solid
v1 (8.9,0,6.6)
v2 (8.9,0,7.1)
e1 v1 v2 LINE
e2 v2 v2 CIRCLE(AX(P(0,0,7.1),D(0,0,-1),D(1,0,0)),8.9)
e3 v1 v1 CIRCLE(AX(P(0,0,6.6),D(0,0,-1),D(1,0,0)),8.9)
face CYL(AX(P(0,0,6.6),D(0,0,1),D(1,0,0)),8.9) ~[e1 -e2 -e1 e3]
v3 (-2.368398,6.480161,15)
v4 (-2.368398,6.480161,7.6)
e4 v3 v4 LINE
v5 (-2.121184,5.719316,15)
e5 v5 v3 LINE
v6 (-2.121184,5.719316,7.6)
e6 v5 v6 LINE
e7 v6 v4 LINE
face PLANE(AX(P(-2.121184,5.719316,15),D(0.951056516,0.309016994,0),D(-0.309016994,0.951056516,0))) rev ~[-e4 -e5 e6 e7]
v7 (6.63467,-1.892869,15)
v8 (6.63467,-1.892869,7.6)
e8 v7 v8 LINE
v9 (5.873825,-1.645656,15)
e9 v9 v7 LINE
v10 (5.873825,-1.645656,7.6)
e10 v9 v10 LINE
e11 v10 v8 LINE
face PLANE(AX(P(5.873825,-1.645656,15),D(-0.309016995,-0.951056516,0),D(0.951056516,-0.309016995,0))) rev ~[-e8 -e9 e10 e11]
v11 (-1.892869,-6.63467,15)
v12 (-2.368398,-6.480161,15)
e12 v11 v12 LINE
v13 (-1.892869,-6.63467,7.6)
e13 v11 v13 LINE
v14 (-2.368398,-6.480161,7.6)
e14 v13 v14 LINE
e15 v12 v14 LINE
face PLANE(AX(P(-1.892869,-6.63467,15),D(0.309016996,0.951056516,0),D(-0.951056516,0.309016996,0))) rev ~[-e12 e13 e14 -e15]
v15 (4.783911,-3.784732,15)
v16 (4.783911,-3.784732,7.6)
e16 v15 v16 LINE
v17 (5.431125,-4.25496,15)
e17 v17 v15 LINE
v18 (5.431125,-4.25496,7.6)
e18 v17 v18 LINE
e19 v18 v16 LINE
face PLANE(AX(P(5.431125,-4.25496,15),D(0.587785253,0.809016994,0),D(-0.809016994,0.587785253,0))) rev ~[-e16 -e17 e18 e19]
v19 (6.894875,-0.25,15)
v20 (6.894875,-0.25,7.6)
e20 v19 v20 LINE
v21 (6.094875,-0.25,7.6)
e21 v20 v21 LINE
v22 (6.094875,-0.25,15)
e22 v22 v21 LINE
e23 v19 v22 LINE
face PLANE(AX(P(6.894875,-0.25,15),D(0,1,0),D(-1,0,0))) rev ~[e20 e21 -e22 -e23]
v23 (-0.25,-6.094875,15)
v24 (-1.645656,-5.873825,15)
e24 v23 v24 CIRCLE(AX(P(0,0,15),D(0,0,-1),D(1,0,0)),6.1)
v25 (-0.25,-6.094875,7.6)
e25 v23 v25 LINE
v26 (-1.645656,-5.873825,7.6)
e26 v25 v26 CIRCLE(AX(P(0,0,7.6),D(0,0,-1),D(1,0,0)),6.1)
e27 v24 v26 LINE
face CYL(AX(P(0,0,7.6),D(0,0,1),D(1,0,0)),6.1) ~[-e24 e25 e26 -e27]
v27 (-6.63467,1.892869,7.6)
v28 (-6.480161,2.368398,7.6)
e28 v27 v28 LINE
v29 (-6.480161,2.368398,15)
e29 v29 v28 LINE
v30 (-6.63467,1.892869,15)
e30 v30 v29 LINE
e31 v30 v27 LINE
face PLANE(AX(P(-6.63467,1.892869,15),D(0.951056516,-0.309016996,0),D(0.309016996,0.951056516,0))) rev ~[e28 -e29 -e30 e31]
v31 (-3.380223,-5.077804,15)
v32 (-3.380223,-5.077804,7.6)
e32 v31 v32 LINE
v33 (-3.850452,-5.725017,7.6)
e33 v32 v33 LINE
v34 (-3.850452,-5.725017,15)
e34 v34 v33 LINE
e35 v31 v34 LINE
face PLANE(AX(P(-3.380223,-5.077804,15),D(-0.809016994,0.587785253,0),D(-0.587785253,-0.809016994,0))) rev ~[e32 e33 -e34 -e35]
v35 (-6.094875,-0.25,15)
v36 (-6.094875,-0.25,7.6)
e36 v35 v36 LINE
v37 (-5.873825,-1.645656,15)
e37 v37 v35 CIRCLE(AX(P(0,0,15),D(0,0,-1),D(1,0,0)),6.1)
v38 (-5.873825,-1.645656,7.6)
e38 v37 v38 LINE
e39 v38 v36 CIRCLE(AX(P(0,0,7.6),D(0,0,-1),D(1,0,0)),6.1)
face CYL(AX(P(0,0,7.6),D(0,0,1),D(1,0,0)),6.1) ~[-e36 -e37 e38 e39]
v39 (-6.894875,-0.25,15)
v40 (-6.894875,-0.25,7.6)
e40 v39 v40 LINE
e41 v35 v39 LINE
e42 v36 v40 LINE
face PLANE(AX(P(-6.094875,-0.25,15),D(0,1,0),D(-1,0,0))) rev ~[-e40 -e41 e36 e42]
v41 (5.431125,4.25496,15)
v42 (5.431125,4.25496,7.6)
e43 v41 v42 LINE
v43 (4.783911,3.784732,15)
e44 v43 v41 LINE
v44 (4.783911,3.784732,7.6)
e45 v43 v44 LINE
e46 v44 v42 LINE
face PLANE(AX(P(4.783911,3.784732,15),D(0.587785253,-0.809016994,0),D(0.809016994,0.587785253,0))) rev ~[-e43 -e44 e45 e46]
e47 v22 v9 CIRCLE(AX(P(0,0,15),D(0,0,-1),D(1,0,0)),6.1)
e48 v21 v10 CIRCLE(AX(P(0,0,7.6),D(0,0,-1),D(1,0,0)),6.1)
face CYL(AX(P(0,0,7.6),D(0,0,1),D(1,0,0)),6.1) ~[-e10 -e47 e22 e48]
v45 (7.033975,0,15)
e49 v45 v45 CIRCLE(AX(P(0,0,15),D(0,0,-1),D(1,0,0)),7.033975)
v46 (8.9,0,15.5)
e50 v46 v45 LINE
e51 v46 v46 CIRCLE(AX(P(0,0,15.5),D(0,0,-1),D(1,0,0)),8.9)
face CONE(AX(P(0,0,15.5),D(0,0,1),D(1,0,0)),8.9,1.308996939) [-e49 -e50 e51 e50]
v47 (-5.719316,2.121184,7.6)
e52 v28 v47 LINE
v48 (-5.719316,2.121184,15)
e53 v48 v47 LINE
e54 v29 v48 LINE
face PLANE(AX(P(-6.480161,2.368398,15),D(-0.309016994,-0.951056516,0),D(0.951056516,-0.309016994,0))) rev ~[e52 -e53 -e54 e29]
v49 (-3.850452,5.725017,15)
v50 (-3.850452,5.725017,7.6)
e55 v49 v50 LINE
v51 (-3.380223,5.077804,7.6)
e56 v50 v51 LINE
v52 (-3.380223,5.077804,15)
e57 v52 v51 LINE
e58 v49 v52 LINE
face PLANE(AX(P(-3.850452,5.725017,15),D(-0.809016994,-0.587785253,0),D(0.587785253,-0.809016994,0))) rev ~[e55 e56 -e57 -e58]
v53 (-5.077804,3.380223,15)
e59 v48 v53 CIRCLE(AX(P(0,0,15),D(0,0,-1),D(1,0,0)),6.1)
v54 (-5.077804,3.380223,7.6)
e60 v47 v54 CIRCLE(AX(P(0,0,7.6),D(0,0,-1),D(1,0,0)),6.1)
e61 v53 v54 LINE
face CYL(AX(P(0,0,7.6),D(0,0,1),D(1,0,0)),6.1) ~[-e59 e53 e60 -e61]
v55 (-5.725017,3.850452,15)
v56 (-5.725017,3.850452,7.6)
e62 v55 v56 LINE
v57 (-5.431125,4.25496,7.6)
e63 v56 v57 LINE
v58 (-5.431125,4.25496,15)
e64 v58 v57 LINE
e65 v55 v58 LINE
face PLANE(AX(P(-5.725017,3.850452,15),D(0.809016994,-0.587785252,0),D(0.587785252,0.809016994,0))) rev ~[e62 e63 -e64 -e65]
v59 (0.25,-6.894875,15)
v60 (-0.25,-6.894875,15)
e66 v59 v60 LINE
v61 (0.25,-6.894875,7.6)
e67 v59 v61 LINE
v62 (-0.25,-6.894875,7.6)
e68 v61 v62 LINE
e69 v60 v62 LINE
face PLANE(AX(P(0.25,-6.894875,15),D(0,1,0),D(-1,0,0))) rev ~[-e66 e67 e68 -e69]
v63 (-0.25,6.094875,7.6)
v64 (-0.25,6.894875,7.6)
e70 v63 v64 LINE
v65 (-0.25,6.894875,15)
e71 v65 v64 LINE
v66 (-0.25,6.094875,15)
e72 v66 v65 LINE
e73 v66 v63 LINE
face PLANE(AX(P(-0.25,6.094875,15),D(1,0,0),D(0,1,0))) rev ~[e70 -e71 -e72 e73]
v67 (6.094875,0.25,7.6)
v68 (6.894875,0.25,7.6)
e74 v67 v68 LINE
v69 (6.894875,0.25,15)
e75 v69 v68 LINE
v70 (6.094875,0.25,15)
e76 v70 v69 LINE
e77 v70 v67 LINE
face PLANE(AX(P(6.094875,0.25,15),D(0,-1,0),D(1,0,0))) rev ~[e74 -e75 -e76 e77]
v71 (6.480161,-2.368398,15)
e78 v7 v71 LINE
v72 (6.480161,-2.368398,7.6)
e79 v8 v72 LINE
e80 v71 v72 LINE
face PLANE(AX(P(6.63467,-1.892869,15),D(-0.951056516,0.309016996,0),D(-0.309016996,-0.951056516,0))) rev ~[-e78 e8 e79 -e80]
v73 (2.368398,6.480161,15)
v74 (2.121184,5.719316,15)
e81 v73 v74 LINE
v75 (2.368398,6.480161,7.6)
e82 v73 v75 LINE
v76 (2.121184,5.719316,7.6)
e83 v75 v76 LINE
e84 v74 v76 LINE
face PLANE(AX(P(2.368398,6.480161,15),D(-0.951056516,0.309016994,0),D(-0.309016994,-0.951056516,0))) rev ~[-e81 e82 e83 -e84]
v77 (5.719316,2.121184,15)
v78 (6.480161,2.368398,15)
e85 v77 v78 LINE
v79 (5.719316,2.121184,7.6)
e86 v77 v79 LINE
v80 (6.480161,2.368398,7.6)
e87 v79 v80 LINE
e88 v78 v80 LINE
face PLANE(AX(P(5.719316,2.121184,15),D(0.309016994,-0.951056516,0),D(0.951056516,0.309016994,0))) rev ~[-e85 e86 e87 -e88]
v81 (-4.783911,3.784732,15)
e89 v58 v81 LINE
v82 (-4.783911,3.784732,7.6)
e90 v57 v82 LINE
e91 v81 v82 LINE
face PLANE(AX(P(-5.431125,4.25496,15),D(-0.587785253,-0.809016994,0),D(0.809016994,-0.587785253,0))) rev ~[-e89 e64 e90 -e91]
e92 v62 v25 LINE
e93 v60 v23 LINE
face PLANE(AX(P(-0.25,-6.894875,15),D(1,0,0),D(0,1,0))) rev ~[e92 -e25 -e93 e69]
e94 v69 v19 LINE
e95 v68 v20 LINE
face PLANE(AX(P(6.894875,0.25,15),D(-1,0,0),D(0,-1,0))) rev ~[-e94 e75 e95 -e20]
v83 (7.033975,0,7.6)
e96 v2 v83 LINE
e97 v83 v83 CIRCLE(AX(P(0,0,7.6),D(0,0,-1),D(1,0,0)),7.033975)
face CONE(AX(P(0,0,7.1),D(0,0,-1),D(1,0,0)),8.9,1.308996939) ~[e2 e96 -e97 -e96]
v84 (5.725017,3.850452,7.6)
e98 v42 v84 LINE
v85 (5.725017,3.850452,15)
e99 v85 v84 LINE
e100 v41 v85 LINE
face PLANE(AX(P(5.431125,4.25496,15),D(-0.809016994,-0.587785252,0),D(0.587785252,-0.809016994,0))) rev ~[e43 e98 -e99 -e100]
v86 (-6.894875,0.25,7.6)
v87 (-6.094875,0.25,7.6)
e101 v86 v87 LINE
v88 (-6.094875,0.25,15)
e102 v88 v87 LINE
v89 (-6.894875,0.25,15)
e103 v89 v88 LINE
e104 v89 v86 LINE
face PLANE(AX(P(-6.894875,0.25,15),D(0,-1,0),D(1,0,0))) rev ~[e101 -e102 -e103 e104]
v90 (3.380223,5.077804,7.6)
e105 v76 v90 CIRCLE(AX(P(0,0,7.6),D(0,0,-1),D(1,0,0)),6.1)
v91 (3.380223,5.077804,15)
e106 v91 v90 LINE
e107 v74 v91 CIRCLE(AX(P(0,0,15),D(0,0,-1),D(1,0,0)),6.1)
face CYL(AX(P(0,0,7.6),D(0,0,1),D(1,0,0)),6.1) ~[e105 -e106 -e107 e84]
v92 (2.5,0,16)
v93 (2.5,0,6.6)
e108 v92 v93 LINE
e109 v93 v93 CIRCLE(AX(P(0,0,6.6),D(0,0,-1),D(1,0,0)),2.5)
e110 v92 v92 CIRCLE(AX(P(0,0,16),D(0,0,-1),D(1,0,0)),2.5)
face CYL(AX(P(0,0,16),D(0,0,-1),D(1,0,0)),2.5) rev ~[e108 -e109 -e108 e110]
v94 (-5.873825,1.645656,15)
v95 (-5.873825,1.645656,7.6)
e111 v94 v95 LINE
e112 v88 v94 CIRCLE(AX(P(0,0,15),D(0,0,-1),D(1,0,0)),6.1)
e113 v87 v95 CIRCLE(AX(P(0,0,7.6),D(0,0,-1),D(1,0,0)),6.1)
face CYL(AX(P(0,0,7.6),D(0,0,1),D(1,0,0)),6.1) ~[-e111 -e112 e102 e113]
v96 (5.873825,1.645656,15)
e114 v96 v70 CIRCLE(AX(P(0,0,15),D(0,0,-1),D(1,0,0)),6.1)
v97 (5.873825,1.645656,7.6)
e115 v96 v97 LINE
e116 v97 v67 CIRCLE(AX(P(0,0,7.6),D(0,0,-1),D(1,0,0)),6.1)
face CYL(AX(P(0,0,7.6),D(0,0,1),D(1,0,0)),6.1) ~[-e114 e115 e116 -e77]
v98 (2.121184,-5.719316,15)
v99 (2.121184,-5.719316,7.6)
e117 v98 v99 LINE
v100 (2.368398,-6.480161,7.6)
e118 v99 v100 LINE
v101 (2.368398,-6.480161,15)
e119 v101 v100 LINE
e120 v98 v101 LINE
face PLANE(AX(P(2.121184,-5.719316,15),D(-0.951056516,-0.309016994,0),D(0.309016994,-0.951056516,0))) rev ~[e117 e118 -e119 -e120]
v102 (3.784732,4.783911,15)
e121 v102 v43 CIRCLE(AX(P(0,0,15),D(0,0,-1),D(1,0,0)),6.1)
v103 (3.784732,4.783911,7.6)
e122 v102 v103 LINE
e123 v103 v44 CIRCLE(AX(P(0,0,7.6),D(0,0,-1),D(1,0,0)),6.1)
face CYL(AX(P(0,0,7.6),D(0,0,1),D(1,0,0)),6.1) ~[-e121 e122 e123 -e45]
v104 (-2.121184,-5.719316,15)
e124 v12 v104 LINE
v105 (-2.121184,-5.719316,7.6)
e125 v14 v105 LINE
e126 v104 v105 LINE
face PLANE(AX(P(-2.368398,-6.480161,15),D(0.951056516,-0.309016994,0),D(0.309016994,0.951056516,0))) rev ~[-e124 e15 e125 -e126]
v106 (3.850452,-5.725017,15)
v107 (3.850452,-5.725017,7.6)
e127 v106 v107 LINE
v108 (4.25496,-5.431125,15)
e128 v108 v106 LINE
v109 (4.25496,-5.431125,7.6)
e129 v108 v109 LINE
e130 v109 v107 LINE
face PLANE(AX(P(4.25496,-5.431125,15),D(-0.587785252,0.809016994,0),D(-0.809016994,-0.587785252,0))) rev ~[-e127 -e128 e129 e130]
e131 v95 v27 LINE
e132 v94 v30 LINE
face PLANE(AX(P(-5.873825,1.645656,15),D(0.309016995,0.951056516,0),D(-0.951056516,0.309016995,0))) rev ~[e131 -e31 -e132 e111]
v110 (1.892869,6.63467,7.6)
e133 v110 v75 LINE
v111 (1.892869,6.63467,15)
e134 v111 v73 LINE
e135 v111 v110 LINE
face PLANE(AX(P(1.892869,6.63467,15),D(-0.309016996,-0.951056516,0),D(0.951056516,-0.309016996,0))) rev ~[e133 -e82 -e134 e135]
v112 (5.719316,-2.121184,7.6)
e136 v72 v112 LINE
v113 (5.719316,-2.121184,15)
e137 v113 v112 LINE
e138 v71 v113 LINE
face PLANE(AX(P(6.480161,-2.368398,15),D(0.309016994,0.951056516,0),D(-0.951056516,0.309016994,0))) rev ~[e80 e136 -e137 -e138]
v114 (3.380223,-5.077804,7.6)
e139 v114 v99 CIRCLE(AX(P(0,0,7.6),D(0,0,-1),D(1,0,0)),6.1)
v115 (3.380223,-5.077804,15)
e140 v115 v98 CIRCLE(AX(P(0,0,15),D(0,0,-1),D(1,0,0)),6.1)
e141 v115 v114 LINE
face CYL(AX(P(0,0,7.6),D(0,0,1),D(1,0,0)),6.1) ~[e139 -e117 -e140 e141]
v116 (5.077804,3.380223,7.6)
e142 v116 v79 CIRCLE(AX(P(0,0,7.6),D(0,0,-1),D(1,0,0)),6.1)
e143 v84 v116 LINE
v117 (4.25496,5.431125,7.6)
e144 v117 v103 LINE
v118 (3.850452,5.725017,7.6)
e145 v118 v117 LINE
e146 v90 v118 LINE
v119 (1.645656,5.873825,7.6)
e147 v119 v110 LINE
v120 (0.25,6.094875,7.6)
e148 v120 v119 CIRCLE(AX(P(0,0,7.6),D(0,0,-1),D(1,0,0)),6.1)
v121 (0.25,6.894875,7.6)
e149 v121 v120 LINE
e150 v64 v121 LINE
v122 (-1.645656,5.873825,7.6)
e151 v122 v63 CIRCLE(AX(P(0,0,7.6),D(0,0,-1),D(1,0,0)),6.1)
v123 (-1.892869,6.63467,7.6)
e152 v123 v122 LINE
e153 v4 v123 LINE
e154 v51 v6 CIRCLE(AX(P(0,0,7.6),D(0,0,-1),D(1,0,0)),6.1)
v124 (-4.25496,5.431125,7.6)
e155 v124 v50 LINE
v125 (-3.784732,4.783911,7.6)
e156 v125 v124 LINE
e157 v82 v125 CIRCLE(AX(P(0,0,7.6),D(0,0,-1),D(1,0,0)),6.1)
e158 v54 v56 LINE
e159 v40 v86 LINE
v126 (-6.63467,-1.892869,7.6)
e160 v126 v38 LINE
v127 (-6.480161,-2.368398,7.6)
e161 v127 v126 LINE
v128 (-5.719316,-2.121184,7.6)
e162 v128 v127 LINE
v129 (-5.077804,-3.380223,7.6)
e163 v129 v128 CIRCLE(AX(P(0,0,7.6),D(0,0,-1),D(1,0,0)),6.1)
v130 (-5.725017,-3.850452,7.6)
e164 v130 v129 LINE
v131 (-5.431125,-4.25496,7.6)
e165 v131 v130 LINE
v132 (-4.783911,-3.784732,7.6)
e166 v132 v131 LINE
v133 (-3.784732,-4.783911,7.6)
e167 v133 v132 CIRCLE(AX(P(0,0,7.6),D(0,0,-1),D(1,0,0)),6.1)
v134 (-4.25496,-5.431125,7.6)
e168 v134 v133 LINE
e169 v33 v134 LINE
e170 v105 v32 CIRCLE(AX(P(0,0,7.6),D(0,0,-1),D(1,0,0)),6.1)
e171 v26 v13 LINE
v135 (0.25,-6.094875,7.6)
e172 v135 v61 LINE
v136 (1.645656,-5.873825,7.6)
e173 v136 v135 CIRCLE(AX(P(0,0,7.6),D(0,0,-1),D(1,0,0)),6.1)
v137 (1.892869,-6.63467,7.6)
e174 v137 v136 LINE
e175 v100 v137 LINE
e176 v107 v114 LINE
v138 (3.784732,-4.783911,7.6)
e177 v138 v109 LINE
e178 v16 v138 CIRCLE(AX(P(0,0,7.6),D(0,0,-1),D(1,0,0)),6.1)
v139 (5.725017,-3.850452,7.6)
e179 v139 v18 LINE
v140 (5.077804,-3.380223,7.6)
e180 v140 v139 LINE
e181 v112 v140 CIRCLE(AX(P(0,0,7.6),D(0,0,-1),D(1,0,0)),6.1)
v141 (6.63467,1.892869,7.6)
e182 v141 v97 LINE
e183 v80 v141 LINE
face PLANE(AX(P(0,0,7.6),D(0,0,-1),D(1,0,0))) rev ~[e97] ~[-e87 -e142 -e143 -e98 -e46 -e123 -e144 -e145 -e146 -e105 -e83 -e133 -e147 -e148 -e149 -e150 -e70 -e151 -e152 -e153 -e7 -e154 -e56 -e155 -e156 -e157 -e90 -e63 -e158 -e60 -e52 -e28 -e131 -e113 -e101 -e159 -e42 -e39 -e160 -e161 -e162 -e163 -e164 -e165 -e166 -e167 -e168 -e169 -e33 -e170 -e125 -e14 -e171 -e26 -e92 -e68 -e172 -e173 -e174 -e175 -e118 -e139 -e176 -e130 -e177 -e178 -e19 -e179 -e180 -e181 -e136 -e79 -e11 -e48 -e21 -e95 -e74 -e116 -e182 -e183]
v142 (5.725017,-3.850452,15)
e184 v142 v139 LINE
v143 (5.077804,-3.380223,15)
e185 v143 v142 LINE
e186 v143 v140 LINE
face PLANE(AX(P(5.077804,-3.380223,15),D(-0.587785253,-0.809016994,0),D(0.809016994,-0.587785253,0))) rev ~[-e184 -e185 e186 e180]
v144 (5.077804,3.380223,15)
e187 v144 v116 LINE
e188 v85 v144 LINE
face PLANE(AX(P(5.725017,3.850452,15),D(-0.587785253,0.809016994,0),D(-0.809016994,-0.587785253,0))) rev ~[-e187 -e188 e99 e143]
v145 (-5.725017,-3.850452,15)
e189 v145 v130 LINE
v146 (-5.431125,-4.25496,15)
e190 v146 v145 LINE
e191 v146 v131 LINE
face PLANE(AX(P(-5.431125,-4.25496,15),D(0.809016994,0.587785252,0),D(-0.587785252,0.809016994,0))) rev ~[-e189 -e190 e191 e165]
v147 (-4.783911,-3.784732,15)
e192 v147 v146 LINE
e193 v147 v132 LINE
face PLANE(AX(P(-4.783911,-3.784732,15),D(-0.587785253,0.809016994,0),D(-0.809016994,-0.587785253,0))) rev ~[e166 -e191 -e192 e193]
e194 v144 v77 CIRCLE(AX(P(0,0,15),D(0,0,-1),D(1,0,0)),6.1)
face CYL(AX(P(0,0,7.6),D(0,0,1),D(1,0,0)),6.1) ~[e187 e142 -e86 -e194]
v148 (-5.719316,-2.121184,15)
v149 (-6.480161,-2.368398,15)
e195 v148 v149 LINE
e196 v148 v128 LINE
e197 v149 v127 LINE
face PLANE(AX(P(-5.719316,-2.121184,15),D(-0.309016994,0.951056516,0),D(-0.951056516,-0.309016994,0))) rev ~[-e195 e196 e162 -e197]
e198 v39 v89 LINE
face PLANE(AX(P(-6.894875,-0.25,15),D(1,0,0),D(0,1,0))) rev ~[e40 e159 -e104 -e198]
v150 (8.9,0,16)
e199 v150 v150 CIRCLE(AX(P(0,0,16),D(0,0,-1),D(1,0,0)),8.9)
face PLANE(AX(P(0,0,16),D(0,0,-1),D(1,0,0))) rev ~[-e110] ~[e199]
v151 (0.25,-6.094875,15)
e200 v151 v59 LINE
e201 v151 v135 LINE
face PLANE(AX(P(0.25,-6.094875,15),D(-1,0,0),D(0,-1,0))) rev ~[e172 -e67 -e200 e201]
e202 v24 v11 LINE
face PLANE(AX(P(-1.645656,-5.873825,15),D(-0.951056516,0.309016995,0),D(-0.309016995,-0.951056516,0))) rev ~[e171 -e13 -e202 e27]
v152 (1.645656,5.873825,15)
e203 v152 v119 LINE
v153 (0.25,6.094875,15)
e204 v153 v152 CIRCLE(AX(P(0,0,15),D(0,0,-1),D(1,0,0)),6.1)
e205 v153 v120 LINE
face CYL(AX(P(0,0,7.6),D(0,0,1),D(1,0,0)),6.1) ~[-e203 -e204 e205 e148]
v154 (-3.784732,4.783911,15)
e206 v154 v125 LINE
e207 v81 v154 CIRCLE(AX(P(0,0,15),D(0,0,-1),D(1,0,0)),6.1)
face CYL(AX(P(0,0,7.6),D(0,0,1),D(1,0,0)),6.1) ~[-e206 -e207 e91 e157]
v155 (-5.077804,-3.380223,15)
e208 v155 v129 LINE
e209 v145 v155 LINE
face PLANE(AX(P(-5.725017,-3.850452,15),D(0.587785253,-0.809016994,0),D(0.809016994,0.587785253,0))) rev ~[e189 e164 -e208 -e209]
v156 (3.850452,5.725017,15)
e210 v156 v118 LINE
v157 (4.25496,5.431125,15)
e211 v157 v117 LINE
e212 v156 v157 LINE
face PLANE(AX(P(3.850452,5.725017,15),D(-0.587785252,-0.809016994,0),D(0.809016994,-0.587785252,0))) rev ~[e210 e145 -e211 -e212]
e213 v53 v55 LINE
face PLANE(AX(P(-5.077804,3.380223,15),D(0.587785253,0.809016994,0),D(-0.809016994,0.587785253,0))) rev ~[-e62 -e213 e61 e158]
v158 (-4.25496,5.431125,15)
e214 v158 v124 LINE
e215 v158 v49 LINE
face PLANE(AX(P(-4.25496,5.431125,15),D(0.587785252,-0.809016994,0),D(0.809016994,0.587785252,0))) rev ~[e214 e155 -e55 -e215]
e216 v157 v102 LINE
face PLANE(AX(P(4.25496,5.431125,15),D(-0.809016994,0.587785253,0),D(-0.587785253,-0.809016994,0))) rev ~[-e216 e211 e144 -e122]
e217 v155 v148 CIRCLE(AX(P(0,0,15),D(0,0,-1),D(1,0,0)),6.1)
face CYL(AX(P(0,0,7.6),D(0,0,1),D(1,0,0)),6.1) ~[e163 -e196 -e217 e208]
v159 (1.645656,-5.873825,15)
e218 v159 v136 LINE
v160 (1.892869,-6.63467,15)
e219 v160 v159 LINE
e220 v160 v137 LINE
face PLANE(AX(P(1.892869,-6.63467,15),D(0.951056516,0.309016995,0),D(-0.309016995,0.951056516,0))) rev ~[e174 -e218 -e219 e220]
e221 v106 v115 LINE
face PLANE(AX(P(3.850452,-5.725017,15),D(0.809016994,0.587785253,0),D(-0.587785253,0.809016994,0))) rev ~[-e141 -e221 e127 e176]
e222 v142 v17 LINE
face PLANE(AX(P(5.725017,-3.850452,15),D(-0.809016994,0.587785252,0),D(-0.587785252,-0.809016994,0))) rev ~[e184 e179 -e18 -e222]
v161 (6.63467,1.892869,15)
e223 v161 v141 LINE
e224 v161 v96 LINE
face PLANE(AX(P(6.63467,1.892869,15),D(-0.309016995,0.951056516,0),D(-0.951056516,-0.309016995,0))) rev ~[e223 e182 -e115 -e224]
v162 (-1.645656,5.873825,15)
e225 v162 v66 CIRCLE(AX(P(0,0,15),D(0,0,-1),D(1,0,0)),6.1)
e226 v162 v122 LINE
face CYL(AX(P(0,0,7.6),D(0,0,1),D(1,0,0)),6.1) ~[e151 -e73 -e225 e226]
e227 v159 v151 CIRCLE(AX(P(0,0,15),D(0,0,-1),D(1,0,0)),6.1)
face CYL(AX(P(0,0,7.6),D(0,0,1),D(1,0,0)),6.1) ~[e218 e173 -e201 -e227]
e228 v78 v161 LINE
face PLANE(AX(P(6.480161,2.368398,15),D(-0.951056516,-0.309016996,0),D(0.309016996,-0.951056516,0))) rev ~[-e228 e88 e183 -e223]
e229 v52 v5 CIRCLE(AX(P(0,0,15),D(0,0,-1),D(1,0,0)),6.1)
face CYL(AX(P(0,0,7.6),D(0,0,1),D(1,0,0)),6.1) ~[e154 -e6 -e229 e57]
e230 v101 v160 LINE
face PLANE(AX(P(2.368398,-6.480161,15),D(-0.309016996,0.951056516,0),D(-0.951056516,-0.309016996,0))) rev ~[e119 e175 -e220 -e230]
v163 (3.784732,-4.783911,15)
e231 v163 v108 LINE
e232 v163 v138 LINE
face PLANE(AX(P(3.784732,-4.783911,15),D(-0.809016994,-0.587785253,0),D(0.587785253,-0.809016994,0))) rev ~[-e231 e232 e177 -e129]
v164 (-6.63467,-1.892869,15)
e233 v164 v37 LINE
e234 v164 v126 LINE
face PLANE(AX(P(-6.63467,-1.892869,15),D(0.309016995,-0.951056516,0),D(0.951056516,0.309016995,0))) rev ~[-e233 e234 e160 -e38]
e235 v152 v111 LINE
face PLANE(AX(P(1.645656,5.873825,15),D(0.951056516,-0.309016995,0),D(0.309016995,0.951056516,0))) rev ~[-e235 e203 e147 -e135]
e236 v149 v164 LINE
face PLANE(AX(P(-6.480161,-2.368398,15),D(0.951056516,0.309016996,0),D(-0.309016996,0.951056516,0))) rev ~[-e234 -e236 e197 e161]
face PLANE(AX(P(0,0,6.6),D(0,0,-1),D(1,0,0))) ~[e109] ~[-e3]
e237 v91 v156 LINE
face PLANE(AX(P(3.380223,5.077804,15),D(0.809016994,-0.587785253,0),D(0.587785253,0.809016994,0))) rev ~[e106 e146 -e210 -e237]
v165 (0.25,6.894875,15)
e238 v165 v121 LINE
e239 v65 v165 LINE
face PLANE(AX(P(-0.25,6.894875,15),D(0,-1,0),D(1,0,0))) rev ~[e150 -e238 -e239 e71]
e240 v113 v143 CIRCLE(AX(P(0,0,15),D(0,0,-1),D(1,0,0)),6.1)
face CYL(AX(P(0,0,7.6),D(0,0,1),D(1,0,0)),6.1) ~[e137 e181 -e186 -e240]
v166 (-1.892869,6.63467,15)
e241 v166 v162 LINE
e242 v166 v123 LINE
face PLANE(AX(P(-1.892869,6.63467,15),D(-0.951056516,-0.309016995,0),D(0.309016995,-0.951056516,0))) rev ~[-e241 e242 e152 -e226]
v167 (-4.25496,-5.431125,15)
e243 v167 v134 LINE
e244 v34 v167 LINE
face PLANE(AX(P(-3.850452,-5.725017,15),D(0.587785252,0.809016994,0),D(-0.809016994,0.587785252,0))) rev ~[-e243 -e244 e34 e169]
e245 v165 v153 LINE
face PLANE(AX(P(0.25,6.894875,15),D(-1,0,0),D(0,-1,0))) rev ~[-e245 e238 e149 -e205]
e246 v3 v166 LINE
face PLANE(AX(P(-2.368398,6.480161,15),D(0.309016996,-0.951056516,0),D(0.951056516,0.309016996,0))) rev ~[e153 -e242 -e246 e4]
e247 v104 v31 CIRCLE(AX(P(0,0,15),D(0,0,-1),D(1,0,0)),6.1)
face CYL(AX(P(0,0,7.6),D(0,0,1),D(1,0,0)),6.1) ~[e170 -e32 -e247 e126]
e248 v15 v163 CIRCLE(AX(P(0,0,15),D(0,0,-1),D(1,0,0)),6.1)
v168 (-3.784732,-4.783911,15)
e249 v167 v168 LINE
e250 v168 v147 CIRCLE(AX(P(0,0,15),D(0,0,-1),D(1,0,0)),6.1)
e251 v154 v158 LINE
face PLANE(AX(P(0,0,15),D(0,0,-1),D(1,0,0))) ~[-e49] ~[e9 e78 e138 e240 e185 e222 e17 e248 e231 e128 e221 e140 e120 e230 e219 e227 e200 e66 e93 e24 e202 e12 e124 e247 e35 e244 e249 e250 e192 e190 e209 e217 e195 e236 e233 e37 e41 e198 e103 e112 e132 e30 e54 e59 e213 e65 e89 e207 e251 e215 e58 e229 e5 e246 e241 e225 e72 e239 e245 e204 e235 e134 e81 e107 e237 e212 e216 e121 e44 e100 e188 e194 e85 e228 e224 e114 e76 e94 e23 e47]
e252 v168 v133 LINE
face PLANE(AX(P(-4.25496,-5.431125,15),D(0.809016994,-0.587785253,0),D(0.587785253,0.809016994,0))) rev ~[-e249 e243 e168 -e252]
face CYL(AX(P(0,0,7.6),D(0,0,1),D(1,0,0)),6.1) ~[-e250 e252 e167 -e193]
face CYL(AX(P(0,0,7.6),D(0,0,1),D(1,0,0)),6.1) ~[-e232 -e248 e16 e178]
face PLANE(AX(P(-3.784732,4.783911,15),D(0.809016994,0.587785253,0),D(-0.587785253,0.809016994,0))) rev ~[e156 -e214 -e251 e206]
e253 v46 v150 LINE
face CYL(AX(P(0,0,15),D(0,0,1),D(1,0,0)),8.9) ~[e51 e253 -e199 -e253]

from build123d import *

# Parameters (mm, degrees)
CHAMFER1_SIZE       = 0.5
CHAMFER1_SIZE2      = 1.866025404
CHAMFER2_SIZE       = 0.5
CHAMFER2_SIZE2      = 1.866025404
BOSS_EXTRUDE1_START = 7.4
BOSS_EXTRUDE1_DEPTH = 7.4


with BuildPart() as part:
    # Sketch2 → Revolve1 (revolve)
    with BuildSketch(Plane(origin=(0, 0, 0), x_dir=(0, 0, -1), z_dir=(1, 0, 0)), mode=Mode.PRIVATE) as revolve1_sk:
        Polygon((-16, 2.5), (-6.6, 2.5), (-6.6, 8.9), (-7.6, 8.9), (-7.6, 6.1), (-15, 6.1), (-15, 8.9), (-16, 8.9), align=None)
    revolve(revolve1_sk.sketch.rotate(Axis((0, 0, 79.609460318), (0, 0, -1)), 90), axis=Axis((0, 0, 79.609460318), (0, 0, -1)))

    # Chamfer1
    chamfer1_edges = [part.edges().sort_by_distance(p)[0] for p in [
        (-8.9, 0, 15),
    ]]
    chamfer1_side = [part.faces().sort_by_distance(p)[0] for p in [
        (-8.9, 0, 15.5),
    ]]
    chamfer(chamfer1_edges, length=CHAMFER1_SIZE, length2=CHAMFER1_SIZE2, reference=chamfer1_side[0])

    # Chamfer2
    chamfer2_edges = [part.edges().sort_by_distance(p)[0] for p in [
        (-8.9, 0, 7.6),
    ]]
    chamfer2_side = [part.faces().sort_by_distance(p)[0] for p in [
        (-8.9, 0, 7.1),
    ]]
    chamfer(chamfer2_edges, length=CHAMFER2_SIZE, length2=CHAMFER2_SIZE2, reference=chamfer2_side[0])

    # Sketch4 → Boss-Extrude1 (add)
    with BuildSketch(Plane.XY.offset(7.6).offset(BOSS_EXTRUDE1_START)):
        with BuildLine():
            Line((1.645655792, 5.873824735), (1.892869388, 6.634669948))
            Line((1.892869388, 6.634669948), (2.368397646, 6.48016145))
            Line((2.368397646, 6.48016145), (2.121184051, 5.719316237))
            ThreePointArc((2.121184051, 5.719316237), (1.885003666, 5.801444749), (1.645655792, 5.873824735))
        make_face()
        with BuildLine():
            Line((-0.25, 6.094874896), (-0.25, 6.894874896))
            Line((-0.25, 6.894874896), (0.25, 6.894874896))
            Line((0.25, 6.894874896), (0.25, 6.094874896))
            ThreePointArc((0.25, 6.094874896), (0, 6.1), (-0.25, 6.094874896))
        make_face()
        with BuildLine():
            Line((3.38022333, 5.077803683), (3.850451532, 5.725017278))
            Line((3.850451532, 5.725017278), (4.254960029, 5.431124652))
            Line((4.254960029, 5.431124652), (3.784731827, 4.783911057))
            ThreePointArc((3.784731827, 4.783911057), (3.585490039, 4.935003666), (3.38022333, 5.077803683))
        make_face()
        with BuildLine():
            Line((4.783911057, 3.784731827), (5.431124652, 4.254960029))
            Line((5.431124652, 4.254960029), (5.725017278, 3.850451532))
            Line((5.725017278, 3.850451532), (5.077803683, 3.38022333))
            ThreePointArc((5.077803683, 3.38022333), (4.935003666, 3.585490039), (4.783911057, 3.784731827))
        make_face()
        with BuildLine():
            Line((5.719316237, 2.121184051), (6.48016145, 2.368397646))
            Line((6.48016145, 2.368397646), (6.634669948, 1.892869388))
            Line((6.634669948, 1.892869388), (5.873824735, 1.645655792))
            ThreePointArc((5.873824735, 1.645655792), (5.801444749, 1.885003666), (5.719316237, 2.121184051))
        make_face()
        with BuildLine():
            Line((6.094874896, 0.25), (6.894874896, 0.25))
            Line((6.894874896, 0.25), (6.894874896, -0.25))
            Line((6.894874896, -0.25), (6.094874896, -0.25))
            ThreePointArc((6.094874896, -0.25), (6.1, 0), (6.094874896, 0.25))
        make_face()
        with BuildLine():
            Line((5.873824735, -1.645655792), (6.634669948, -1.892869388))
            Line((6.634669948, -1.892869388), (6.48016145, -2.368397646))
            Line((6.48016145, -2.368397646), (5.719316237, -2.121184051))
            ThreePointArc((5.719316237, -2.121184051), (5.801444749, -1.885003666), (5.873824735, -1.645655792))
        make_face()
        with BuildLine():
            Line((5.077803683, -3.38022333), (5.725017278, -3.850451532))
            Line((5.725017278, -3.850451532), (5.431124652, -4.254960029))
            Line((5.431124652, -4.254960029), (4.783911057, -3.784731827))
            ThreePointArc((4.783911057, -3.784731827), (4.935003666, -3.585490039), (5.077803683, -3.38022333))
        make_face()
        with BuildLine():
            Line((3.784731827, -4.783911057), (4.254960029, -5.431124652))
            Line((4.254960029, -5.431124652), (3.850451532, -5.725017278))
            Line((3.850451532, -5.725017278), (3.38022333, -5.077803683))
            ThreePointArc((3.38022333, -5.077803683), (3.585490039, -4.935003666), (3.784731827, -4.783911057))
        make_face()
        with BuildLine():
            Line((2.121184051, -5.719316237), (2.368397646, -6.48016145))
            Line((2.368397646, -6.48016145), (1.892869388, -6.634669948))
            Line((1.892869388, -6.634669948), (1.645655792, -5.873824735))
            ThreePointArc((1.645655792, -5.873824735), (1.885003666, -5.801444749), (2.121184051, -5.719316237))
        make_face()
        with BuildLine():
            Line((0.25, -6.094874896), (0.25, -6.894874896))
            Line((0.25, -6.894874896), (-0.25, -6.894874896))
            Line((-0.25, -6.894874896), (-0.25, -6.094874896))
            ThreePointArc((-0.25, -6.094874896), (0, -6.1), (0.25, -6.094874896))
        make_face()
        with BuildLine():
            Line((-1.645655792, -5.873824735), (-1.892869388, -6.634669948))
            Line((-1.892869388, -6.634669948), (-2.368397646, -6.48016145))
            Line((-2.368397646, -6.48016145), (-2.121184051, -5.719316237))
            ThreePointArc((-2.121184051, -5.719316237), (-1.885003666, -5.801444749), (-1.645655792, -5.873824735))
        make_face()
        with BuildLine():
            Line((-3.38022333, -5.077803683), (-3.850451532, -5.725017278))
            Line((-3.850451532, -5.725017278), (-4.254960029, -5.431124652))
            Line((-4.254960029, -5.431124652), (-3.784731827, -4.783911057))
            ThreePointArc((-3.784731827, -4.783911057), (-3.585490039, -4.935003666), (-3.38022333, -5.077803683))
        make_face()
        with BuildLine():
            Line((-4.783911057, -3.784731827), (-5.431124652, -4.254960029))
            Line((-5.431124652, -4.254960029), (-5.725017278, -3.850451532))
            Line((-5.725017278, -3.850451532), (-5.077803683, -3.38022333))
            ThreePointArc((-5.077803683, -3.38022333), (-4.935003666, -3.585490039), (-4.783911057, -3.784731827))
        make_face()
        with BuildLine():
            Line((-5.719316237, -2.121184051), (-6.48016145, -2.368397646))
            Line((-6.48016145, -2.368397646), (-6.634669948, -1.892869388))
            Line((-6.634669948, -1.892869388), (-5.873824735, -1.645655792))
            ThreePointArc((-5.873824735, -1.645655792), (-5.801444749, -1.885003666), (-5.719316237, -2.121184051))
        make_face()
        with BuildLine():
            Line((-6.094874896, -0.25), (-6.894874896, -0.25))
            Line((-6.894874896, -0.25), (-6.894874896, 0.25))
            Line((-6.894874896, 0.25), (-6.094874896, 0.25))
            ThreePointArc((-6.094874896, 0.25), (-6.1, 0), (-6.094874896, -0.25))
        make_face()
        with BuildLine():
            Line((-5.873824735, 1.645655792), (-6.634669948, 1.892869388))
            Line((-6.634669948, 1.892869388), (-6.48016145, 2.368397646))
            Line((-6.48016145, 2.368397646), (-5.719316237, 2.121184051))
            ThreePointArc((-5.719316237, 2.121184051), (-5.801444749, 1.885003666), (-5.873824735, 1.645655792))
        make_face()
        with BuildLine():
            Line((-5.077803683, 3.38022333), (-5.725017278, 3.850451532))
            Line((-5.725017278, 3.850451532), (-5.431124652, 4.254960029))
            Line((-5.431124652, 4.254960029), (-4.783911057, 3.784731827))
            ThreePointArc((-4.783911057, 3.784731827), (-4.935003666, 3.585490039), (-5.077803683, 3.38022333))
        make_face()
        with BuildLine():
            Line((-3.784731827, 4.783911057), (-4.254960029, 5.431124652))
            Line((-4.254960029, 5.431124652), (-3.850451532, 5.725017278))
            Line((-3.850451532, 5.725017278), (-3.38022333, 5.077803683))
            ThreePointArc((-3.38022333, 5.077803683), (-3.585490039, 4.935003666), (-3.784731827, 4.783911057))
        make_face()
        with BuildLine():
            Line((-2.121184051, 5.719316237), (-2.368397646, 6.48016145))
            Line((-2.368397646, 6.48016145), (-1.892869388, 6.634669948))
            Line((-1.892869388, 6.634669948), (-1.645655792, 5.873824735))
            ThreePointArc((-1.645655792, 5.873824735), (-1.885003666, 5.801444749), (-2.121184051, 5.719316237))
        make_face()
    extrude(amount=-BOSS_EXTRUDE1_DEPTH)


solid = part.part
